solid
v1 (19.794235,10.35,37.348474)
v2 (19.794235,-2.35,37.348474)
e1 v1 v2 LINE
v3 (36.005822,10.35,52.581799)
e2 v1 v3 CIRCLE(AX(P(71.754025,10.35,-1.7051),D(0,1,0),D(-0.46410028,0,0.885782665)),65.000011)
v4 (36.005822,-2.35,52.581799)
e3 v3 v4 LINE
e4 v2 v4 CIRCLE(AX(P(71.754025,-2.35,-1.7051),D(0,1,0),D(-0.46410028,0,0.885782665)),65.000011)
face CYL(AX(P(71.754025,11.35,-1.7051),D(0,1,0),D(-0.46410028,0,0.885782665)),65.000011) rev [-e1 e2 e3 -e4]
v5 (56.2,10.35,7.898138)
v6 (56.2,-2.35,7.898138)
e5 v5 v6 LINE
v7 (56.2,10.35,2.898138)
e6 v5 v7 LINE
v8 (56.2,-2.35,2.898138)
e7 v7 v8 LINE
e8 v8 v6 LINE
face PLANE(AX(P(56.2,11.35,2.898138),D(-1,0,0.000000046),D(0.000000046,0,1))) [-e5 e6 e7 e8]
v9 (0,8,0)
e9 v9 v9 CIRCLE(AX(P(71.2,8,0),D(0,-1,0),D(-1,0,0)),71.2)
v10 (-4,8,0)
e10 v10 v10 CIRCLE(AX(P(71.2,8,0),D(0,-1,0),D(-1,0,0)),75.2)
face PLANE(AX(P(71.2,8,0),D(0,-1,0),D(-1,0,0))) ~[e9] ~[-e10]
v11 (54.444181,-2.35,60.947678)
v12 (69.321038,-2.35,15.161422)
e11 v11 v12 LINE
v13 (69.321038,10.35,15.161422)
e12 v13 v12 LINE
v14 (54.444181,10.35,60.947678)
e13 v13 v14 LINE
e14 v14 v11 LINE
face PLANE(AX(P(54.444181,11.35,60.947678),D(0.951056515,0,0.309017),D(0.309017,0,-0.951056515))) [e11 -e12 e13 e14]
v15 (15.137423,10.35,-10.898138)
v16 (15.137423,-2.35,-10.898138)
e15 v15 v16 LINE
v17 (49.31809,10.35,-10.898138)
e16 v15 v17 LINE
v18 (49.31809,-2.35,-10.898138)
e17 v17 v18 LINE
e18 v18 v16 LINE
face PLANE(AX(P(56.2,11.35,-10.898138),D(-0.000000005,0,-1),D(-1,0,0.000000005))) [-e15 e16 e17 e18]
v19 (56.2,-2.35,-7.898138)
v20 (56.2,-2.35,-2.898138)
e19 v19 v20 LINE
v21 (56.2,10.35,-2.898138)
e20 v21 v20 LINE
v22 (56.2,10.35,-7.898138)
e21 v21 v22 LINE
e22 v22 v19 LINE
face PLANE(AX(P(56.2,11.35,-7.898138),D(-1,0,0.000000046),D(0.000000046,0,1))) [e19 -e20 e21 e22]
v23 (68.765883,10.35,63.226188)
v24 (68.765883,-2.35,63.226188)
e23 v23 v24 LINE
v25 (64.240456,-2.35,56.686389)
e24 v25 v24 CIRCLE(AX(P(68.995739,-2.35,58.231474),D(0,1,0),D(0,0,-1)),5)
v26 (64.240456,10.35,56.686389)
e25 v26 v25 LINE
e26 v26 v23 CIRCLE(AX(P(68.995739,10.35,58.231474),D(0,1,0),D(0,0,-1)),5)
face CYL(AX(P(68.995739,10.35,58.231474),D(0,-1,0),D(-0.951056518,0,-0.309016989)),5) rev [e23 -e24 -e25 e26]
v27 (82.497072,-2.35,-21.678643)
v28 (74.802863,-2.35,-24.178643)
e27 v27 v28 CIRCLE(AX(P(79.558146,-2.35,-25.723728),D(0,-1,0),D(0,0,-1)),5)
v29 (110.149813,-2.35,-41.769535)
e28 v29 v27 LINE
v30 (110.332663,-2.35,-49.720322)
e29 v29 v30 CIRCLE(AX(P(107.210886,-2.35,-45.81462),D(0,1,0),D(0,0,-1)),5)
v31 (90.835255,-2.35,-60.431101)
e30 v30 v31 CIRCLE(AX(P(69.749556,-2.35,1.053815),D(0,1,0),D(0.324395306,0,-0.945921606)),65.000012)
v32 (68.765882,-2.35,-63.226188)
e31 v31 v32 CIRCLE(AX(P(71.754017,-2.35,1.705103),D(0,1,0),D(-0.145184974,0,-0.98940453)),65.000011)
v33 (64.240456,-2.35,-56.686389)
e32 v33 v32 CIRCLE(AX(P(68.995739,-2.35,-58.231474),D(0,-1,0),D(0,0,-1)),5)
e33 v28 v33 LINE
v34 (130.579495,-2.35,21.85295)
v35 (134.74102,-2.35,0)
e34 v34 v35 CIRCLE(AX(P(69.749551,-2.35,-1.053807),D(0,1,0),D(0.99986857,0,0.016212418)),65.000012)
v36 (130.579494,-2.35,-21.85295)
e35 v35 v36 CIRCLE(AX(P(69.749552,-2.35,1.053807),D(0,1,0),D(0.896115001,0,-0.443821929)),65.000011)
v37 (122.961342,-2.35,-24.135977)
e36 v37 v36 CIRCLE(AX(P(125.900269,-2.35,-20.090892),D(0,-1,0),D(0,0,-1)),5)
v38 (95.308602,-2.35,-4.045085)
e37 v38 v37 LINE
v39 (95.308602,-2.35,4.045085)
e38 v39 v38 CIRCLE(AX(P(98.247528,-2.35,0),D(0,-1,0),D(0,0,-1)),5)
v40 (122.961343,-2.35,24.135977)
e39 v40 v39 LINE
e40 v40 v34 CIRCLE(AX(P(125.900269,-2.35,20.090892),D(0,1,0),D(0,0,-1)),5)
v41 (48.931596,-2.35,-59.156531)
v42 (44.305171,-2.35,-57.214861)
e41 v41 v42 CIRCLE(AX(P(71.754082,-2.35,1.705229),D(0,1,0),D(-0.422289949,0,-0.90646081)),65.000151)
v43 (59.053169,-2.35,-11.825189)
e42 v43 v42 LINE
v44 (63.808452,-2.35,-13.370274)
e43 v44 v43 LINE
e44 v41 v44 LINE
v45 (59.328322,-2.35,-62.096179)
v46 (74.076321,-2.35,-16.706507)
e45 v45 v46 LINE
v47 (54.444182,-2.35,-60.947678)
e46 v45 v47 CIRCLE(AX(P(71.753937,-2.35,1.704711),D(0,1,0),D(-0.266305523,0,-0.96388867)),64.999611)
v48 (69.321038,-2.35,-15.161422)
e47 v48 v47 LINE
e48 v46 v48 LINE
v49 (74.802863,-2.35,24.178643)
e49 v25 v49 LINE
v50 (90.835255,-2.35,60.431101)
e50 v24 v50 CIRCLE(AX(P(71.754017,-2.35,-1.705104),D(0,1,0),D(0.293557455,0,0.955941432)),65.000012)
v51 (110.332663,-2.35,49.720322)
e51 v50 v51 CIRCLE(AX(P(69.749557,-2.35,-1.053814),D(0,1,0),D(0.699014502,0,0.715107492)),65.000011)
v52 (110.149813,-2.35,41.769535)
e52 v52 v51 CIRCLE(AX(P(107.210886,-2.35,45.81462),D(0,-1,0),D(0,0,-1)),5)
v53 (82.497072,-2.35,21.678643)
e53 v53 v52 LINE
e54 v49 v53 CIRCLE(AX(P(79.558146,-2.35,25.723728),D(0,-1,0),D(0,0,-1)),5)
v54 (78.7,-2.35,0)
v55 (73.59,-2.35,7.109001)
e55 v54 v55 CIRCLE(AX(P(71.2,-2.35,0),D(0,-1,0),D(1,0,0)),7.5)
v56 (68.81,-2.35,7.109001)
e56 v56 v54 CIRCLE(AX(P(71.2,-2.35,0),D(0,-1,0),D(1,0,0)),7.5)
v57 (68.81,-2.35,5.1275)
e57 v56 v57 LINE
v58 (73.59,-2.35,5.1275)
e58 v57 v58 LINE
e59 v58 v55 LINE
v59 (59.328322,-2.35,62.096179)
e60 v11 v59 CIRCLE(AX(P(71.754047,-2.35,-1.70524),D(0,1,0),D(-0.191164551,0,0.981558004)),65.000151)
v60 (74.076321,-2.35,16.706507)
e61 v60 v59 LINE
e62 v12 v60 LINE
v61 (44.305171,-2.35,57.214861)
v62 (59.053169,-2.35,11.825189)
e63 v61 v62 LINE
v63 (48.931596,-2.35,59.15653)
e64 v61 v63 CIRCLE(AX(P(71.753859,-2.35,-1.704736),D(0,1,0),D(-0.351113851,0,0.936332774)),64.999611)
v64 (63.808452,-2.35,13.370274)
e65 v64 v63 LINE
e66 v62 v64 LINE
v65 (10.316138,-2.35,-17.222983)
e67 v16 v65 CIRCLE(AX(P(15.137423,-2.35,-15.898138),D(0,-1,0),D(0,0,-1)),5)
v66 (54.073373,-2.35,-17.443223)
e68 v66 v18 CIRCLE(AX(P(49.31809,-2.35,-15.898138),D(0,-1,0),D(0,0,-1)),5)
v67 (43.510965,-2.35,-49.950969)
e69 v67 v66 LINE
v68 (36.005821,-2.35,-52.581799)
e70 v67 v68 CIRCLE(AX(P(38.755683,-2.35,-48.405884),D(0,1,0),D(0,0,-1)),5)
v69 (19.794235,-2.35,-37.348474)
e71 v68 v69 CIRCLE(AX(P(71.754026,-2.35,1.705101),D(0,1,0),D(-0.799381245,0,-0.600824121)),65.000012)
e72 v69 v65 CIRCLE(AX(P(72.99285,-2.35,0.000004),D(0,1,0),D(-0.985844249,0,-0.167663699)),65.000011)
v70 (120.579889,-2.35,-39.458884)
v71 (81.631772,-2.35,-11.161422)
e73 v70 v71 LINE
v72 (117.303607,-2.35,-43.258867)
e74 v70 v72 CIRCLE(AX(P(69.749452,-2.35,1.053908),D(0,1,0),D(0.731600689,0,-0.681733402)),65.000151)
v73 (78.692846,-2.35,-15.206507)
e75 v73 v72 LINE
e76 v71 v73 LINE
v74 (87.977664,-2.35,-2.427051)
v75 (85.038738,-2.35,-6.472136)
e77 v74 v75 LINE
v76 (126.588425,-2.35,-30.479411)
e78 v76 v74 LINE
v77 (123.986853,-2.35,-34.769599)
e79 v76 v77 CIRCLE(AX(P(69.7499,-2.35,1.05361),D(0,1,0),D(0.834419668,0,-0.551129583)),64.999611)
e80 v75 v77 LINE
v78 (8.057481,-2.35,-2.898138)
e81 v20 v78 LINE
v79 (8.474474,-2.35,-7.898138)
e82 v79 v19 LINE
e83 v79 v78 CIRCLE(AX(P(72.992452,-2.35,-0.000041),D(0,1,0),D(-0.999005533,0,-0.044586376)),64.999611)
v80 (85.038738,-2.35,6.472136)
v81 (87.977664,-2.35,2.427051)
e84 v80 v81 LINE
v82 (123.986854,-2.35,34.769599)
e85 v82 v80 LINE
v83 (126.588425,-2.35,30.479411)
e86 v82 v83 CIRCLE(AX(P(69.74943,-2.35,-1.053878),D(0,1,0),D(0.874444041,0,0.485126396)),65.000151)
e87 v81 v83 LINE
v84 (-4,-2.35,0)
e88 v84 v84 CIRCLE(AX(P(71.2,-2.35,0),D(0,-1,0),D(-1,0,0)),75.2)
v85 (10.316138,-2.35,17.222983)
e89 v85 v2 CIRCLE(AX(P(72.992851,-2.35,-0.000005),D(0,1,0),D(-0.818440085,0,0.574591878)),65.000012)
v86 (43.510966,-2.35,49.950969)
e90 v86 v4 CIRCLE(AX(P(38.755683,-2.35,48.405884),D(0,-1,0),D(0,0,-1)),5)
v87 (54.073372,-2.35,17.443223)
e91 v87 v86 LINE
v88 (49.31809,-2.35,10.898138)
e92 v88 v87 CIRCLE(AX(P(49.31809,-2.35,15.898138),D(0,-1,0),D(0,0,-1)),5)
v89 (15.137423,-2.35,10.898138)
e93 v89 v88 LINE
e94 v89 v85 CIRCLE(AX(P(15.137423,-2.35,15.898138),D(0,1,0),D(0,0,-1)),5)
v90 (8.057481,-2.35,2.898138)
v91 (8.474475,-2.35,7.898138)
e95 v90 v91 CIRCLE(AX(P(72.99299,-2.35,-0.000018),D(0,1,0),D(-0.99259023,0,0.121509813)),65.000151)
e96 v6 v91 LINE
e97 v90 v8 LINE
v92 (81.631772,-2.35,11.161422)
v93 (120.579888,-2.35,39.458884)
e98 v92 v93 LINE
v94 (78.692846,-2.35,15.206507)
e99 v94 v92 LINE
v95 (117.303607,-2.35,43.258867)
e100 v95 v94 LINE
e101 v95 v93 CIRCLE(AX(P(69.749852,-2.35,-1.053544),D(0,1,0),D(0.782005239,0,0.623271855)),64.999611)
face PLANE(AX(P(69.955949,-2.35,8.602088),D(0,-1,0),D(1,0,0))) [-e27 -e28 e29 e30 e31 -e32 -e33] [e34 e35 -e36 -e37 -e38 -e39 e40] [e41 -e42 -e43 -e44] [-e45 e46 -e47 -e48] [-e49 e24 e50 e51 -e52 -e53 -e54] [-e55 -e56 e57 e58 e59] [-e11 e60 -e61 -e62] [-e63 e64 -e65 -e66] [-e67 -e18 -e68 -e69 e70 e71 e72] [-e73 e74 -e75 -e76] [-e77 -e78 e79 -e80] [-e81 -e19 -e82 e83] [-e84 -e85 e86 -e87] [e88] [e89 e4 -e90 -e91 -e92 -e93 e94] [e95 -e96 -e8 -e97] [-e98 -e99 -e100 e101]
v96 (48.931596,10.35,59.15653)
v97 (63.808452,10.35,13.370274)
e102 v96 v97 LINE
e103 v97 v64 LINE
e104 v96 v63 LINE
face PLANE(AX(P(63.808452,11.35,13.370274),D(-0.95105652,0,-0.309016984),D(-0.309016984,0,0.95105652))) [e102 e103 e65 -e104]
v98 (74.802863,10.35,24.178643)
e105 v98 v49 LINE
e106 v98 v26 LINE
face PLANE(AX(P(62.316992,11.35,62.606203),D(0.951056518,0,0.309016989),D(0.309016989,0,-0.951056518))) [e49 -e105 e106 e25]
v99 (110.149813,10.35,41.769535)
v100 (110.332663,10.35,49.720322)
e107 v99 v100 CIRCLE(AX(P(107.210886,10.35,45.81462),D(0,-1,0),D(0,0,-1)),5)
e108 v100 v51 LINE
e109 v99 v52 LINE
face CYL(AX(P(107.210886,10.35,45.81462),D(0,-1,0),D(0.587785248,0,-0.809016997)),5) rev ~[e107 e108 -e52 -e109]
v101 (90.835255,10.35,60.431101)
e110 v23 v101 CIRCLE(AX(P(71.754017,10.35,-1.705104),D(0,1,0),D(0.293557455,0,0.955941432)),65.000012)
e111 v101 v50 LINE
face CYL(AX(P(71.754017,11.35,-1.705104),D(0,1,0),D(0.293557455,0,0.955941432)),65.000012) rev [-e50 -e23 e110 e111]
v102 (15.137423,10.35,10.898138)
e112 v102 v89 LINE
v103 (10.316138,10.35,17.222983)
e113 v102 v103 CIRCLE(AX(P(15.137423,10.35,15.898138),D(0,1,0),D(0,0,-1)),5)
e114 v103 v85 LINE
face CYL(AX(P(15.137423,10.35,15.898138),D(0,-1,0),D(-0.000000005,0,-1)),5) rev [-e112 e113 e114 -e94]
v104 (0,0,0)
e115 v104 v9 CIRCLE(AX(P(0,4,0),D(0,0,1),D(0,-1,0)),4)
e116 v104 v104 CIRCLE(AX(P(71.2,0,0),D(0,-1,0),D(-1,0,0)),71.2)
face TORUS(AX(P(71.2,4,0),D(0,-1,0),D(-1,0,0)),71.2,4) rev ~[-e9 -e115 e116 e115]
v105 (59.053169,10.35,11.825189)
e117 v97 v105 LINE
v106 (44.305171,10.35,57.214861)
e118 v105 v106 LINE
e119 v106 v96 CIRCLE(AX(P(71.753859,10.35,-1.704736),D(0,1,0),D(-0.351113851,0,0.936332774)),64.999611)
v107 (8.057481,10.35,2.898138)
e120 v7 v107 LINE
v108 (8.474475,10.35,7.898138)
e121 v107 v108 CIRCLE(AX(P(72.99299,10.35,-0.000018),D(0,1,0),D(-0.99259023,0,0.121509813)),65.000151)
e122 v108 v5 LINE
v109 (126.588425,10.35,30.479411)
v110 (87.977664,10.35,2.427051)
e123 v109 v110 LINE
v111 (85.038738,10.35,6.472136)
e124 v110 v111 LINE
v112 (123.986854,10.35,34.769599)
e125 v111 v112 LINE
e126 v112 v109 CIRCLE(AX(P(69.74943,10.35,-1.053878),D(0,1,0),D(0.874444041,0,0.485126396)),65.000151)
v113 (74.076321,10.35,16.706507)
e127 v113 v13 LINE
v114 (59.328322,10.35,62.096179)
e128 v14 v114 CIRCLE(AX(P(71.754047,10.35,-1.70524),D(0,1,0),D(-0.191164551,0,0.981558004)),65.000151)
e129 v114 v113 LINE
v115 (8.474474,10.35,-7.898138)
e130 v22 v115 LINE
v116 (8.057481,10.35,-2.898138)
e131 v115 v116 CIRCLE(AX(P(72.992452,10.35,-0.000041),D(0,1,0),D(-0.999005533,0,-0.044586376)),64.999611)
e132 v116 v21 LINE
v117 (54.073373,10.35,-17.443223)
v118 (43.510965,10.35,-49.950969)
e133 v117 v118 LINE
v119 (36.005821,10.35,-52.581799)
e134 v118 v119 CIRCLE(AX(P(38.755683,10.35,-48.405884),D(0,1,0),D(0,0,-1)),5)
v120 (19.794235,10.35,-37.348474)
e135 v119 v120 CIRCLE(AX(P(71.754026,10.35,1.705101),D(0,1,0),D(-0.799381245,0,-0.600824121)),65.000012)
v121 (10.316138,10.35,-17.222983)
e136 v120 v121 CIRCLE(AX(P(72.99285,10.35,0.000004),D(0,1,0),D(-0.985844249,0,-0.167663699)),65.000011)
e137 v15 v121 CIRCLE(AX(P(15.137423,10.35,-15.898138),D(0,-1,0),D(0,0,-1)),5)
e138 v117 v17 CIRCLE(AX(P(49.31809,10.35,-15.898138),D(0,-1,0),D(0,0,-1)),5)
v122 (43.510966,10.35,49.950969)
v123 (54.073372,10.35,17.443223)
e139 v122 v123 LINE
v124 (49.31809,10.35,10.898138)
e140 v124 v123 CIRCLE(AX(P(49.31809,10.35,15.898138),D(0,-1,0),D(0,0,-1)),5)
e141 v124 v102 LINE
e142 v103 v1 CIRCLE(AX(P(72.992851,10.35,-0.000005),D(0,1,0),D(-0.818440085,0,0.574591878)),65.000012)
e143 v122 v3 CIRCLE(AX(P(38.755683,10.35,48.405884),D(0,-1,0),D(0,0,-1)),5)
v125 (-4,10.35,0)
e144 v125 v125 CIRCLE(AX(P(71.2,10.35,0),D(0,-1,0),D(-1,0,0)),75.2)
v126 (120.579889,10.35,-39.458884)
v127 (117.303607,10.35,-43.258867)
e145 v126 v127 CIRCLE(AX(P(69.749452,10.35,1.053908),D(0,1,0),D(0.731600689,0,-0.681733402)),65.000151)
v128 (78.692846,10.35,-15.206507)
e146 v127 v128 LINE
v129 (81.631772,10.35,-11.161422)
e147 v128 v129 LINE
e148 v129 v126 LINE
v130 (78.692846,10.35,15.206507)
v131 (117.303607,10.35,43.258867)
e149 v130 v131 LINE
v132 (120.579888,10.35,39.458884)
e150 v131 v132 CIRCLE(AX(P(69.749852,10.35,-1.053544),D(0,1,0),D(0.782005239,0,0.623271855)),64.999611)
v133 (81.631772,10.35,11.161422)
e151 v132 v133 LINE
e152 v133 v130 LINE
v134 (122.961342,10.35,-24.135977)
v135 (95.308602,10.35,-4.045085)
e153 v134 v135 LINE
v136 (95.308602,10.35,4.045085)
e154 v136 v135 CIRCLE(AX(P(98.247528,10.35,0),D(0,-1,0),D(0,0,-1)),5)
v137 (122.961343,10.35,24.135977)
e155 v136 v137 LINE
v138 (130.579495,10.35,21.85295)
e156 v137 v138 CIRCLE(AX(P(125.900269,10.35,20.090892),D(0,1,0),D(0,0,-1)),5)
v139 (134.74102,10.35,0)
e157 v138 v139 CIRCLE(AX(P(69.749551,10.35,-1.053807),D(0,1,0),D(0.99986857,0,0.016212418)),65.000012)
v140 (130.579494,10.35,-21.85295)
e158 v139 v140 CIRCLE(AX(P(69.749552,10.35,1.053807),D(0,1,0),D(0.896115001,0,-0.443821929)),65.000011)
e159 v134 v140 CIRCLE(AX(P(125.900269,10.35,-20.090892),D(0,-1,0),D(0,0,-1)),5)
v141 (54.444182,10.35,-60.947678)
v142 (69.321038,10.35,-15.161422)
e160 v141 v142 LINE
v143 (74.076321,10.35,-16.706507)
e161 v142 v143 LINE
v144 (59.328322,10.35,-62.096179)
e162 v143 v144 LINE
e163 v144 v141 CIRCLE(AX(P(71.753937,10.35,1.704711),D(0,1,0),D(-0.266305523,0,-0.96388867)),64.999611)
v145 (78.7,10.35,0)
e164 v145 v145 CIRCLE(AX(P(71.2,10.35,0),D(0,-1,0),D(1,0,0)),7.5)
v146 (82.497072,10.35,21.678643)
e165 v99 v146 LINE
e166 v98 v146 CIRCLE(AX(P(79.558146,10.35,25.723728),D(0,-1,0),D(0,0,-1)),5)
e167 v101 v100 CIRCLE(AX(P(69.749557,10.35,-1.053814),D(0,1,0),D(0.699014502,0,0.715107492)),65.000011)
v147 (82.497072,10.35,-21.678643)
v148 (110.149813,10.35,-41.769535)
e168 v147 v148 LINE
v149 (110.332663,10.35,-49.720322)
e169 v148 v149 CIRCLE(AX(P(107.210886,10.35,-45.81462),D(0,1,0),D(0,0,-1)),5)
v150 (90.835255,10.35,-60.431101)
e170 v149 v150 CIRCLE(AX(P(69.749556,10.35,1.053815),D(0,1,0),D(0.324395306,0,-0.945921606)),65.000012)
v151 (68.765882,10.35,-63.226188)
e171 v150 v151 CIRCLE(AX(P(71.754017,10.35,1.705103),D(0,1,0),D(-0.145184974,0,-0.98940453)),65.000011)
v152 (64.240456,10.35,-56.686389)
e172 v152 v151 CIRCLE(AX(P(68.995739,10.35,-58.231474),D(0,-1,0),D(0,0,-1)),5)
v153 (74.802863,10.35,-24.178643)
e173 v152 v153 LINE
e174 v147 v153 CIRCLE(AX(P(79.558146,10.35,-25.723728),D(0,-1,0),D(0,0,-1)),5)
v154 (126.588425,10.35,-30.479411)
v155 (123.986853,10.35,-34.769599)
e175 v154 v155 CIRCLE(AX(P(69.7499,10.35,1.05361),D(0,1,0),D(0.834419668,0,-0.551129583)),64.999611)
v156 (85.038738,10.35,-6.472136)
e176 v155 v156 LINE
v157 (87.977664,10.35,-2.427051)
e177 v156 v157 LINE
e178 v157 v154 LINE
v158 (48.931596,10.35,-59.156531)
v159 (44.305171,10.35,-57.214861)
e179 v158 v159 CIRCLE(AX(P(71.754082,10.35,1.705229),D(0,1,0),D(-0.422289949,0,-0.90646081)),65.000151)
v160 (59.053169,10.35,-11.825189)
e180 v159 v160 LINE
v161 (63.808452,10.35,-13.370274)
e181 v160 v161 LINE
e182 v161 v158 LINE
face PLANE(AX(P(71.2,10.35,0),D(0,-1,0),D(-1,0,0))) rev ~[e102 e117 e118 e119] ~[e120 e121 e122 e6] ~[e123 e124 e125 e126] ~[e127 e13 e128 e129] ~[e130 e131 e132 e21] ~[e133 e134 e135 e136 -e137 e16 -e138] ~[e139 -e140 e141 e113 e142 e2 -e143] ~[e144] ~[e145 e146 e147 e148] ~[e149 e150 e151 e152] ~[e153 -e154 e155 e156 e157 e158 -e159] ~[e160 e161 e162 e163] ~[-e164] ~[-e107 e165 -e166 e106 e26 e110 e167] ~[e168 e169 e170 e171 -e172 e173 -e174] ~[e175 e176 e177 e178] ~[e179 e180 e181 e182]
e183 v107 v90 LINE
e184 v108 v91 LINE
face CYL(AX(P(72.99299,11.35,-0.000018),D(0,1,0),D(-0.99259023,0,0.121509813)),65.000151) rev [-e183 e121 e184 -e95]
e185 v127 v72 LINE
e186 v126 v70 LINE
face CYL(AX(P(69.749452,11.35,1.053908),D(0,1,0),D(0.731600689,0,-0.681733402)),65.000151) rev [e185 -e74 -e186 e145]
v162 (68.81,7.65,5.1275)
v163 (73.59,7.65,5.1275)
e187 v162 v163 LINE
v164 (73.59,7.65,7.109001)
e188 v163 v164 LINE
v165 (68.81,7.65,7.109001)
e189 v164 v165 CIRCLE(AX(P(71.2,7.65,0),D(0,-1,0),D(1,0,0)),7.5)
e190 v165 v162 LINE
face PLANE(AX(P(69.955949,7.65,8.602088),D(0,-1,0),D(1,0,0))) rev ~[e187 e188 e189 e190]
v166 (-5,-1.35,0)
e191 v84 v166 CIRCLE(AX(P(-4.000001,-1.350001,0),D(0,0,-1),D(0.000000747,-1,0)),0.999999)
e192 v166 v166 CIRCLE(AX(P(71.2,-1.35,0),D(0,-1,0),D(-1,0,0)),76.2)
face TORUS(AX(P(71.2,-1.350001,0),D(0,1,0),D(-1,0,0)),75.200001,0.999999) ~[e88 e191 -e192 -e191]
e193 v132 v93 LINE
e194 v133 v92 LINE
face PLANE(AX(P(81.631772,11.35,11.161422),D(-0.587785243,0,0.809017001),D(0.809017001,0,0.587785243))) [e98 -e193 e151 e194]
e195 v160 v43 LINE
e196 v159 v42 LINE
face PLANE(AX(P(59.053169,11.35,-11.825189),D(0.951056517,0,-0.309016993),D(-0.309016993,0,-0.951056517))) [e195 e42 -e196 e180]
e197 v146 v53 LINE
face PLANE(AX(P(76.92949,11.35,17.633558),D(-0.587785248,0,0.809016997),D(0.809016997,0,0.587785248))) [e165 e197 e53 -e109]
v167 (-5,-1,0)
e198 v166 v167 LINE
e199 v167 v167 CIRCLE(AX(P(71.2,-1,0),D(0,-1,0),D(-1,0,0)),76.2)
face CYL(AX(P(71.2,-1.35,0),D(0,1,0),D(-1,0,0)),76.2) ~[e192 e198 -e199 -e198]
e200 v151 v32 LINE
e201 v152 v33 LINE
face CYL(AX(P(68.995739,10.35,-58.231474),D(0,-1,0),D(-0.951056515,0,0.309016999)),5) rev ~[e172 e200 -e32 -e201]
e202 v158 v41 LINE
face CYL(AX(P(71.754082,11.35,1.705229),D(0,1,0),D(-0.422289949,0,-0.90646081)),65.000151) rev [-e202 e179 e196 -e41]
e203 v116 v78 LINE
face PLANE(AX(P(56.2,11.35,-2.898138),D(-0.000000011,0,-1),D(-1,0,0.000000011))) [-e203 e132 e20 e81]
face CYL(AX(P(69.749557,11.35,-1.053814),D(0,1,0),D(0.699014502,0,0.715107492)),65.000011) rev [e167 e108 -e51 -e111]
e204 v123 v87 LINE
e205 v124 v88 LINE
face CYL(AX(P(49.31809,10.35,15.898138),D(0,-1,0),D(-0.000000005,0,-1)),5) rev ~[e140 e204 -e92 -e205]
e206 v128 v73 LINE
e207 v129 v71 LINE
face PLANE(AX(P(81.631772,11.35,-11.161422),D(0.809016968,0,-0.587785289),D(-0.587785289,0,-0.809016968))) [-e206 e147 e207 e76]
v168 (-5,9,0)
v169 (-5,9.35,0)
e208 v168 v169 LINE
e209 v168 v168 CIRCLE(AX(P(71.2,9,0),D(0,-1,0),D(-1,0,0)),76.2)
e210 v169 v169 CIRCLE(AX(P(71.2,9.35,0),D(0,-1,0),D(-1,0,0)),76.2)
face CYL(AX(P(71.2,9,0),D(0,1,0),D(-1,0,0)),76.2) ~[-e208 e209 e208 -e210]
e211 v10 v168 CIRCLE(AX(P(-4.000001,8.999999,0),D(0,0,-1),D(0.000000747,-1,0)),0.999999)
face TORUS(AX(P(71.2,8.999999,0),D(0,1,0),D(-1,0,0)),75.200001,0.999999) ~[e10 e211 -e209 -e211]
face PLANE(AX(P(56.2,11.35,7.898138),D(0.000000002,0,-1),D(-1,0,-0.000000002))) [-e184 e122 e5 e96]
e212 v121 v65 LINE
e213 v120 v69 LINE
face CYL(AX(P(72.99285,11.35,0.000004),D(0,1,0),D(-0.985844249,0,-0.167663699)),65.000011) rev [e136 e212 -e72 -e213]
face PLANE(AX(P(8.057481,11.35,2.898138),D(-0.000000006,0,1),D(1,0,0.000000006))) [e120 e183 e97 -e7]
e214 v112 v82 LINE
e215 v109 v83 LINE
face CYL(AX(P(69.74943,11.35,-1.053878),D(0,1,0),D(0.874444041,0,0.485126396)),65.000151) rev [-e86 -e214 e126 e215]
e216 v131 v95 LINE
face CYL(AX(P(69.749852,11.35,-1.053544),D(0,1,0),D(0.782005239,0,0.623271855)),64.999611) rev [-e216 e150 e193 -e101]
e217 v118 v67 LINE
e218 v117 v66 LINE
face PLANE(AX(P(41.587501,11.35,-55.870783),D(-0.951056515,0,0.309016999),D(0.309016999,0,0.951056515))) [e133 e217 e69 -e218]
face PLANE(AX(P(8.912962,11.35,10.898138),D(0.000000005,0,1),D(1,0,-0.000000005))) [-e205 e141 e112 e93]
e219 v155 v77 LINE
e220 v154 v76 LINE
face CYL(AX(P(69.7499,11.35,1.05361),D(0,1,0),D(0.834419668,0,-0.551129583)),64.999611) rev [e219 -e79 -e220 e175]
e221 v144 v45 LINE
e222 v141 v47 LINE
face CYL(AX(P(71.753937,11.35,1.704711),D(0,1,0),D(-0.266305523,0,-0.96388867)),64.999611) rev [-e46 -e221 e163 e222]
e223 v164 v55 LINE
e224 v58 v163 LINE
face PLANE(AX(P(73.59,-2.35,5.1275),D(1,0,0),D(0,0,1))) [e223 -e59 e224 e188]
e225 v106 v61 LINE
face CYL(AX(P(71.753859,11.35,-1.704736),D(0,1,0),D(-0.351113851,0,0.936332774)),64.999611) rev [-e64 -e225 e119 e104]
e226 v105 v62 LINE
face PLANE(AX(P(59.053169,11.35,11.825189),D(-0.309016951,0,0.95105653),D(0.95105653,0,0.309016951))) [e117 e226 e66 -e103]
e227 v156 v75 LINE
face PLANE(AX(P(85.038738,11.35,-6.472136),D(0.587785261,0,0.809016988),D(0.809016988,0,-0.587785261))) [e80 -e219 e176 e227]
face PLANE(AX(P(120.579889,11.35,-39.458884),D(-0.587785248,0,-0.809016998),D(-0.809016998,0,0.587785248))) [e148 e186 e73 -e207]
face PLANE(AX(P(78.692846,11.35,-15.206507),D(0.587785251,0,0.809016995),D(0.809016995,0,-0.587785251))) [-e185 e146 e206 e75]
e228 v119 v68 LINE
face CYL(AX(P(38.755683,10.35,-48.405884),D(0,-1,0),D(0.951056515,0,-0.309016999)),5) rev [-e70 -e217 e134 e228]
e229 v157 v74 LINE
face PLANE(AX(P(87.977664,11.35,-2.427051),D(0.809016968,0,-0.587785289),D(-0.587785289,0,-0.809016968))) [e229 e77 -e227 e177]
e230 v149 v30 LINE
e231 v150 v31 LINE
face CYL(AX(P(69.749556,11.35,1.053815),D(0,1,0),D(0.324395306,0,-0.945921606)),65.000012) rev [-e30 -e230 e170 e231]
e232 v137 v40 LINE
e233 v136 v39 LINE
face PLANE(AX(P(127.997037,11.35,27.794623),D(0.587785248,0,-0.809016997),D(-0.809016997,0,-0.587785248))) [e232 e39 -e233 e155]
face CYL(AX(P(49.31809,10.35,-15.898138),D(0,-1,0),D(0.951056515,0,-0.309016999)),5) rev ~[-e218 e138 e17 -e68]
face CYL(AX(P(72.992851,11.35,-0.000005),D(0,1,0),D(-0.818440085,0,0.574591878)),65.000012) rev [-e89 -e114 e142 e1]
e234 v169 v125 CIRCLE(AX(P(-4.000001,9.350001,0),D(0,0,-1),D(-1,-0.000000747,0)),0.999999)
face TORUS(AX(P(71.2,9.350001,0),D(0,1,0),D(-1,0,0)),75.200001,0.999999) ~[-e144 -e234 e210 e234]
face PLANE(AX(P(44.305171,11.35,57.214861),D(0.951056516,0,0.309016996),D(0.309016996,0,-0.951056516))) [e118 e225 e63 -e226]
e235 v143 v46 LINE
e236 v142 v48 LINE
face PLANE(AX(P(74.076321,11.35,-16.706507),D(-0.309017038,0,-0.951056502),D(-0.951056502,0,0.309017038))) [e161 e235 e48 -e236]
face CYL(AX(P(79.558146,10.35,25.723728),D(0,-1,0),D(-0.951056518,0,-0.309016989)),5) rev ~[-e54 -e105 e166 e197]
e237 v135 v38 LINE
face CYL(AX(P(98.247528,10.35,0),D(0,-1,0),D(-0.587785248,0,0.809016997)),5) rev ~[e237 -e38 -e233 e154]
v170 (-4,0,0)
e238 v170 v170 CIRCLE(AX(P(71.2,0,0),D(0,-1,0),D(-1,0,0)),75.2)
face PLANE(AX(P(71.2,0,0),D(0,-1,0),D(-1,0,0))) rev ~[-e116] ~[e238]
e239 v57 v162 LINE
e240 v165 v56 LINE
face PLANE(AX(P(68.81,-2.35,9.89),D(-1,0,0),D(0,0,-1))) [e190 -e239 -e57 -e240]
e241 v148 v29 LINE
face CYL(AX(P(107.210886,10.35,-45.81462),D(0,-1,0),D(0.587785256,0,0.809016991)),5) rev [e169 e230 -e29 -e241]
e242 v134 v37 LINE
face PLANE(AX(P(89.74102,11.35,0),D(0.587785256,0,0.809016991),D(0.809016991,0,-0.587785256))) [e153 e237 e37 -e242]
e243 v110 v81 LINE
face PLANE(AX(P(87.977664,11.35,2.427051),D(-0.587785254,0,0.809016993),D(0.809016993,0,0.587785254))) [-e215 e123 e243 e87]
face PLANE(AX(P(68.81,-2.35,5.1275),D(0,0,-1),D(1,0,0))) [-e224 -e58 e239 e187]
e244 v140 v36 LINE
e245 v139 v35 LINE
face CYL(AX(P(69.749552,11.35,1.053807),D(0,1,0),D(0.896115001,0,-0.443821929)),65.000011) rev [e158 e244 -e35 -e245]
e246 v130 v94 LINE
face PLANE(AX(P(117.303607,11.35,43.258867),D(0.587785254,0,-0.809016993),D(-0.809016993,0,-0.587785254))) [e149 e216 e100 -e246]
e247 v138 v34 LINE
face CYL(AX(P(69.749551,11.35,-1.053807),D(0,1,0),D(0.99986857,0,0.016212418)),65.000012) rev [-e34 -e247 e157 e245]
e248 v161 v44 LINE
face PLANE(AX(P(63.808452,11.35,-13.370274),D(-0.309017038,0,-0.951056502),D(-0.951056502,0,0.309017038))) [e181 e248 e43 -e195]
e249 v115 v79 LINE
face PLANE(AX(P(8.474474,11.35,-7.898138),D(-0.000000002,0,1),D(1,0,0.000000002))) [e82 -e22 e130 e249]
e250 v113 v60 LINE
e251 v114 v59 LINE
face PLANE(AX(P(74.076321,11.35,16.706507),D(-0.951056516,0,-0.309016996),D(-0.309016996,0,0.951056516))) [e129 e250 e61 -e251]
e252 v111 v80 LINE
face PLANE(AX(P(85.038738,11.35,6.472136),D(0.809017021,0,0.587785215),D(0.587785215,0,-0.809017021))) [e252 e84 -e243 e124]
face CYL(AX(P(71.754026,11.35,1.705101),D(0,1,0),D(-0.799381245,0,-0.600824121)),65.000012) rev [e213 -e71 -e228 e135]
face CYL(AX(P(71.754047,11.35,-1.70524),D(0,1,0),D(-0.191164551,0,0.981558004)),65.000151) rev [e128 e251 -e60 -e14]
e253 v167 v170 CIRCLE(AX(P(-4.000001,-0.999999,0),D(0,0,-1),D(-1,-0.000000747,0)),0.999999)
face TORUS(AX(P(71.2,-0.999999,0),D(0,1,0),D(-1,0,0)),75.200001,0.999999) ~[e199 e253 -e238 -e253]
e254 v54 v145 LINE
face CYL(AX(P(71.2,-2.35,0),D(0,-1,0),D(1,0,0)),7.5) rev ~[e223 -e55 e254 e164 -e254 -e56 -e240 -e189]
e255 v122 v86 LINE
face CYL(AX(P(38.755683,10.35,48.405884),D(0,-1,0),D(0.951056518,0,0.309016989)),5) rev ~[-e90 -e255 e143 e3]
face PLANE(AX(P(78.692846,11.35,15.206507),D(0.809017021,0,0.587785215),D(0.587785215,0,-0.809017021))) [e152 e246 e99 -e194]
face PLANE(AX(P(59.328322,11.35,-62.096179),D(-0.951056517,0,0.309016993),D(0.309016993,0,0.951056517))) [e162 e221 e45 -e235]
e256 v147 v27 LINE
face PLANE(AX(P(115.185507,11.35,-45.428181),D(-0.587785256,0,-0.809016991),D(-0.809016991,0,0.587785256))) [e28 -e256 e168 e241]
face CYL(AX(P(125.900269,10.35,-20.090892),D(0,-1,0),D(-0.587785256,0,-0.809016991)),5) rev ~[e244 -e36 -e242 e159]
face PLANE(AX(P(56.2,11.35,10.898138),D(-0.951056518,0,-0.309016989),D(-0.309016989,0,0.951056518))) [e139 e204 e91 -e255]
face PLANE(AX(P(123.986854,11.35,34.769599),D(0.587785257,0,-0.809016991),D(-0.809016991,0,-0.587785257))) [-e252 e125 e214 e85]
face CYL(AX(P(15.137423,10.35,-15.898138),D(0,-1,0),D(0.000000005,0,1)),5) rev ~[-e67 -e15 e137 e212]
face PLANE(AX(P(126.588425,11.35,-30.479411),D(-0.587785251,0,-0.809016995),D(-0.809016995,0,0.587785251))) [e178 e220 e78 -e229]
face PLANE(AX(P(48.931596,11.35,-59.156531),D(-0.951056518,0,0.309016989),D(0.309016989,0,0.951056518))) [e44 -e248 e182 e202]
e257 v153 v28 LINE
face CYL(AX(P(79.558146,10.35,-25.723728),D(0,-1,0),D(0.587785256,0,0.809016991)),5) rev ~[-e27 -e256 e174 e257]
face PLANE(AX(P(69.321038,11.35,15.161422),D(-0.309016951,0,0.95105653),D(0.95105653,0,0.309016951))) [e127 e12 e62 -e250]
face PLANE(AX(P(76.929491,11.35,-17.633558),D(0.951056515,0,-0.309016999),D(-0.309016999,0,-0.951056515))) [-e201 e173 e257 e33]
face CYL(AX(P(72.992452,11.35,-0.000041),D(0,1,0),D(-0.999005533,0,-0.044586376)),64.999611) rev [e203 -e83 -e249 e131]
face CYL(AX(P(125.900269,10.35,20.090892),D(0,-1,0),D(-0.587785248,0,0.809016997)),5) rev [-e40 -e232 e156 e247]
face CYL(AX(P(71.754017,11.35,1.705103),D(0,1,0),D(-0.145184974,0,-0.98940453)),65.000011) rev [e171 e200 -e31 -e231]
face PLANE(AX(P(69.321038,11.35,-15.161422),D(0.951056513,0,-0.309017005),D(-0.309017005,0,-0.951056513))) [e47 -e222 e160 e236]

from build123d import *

# Parameters (mm, degrees)
SKETCH2_R           = 7.5
CUT_EXTRUDE3_DEPTH  = 13.7
CUT_EXTRUDE7_START  = -13.7
CUT_EXTRUDE7_DEPTH  = 14.7
CIRPATTERN1_COUNT   = 5
FILLET1_R           = 5
FILLET2_R           = 5
BOSS_EXTRUDE1_DEPTH = 10


with BuildPart() as part:
    # Sketch1 → Revolve2 (revolve)
    with BuildSketch(Plane.XY):
        with BuildLine():
            Line((0, 8), (-4, 8))
            ThreePointArc((-4, 8), (-4.707107, 8.292893), (-5, 9))
            Line((-5, 9), (-5, 9.35))
            ThreePointArc((-5, 9.35), (-4.707107, 10.057107), (-4, 10.35))
            Line((-4, 10.35), (71.2, 10.35))
            Line((71.2, 10.35), (71.2, -2.35))
            Line((71.2, -2.35), (-4, -2.35))
            ThreePointArc((-4, -2.35), (-4.707107, -2.057107), (-5, -1.35))
            Line((-5, -1.35), (-5, -1))
            ThreePointArc((-5, -1), (-4.707107, -0.292893), (-4, 0))
            Line((-4, 0), (0, 0))
            ThreePointArc((0, 0), (4, 4), (0, 8))
        make_face()
    revolve(axis=Axis((71.2, 10.35, 0), (0, -1, 0)))

    # Sketch2 → Cut-Extrude3 (cut, through all)
    with BuildSketch(Plane.XZ.offset(2.35)):
        with Locations((71.2, 0)):
            Circle(SKETCH2_R)
    extrude(amount=-CUT_EXTRUDE3_DEPTH, mode=Mode.SUBTRACT)

    # Sketch3 → Cut-Extrude7 (cut)
    with BuildSketch(Plane.XZ.offset(2.35).offset(CUT_EXTRUDE7_START)):
        with BuildLine():
            Line((90.835255, 60.431101), (76.92949, 17.633558))
            Line((76.92949, 17.633558), (115.185507, 45.428181))
            ThreePointArc((115.185507, 45.428181), (103.845808, 54.285567), (90.835255, 60.431101))
        make_face()
        with BuildLine():
            Line((78.692846, 15.206507), (81.631772, 11.161422))
            Line((81.631772, 11.161422), (120.579888, 39.458884))
            ThreePointArc((120.579888, 39.458884), (118.978427, 41.390499), (117.303607, 43.258867))
            Line((117.303607, 43.258867), (78.692846, 15.206507))
        make_face()
        with BuildLine():
            Line((85.038738, 6.472136), (87.977664, 2.427051))
            Line((87.977664, 2.427051), (126.588425, 30.479411))
            ThreePointArc((126.588425, 30.479411), (125.32905, 32.649616), (123.986854, 34.769599))
            Line((123.986854, 34.769599), (85.038738, 6.472136))
        make_face()
        with BuildLine():
            Line((127.997037, 27.794623), (89.74102, 0))
            Line((89.74102, 0), (134.74102, 0))
            ThreePointArc((134.74102, 0), (132.916752, 14.272845), (127.997037, 27.794623))
        make_face()
    cut_extrude7 = extrude(amount=CUT_EXTRUDE7_DEPTH, mode=Mode.SUBTRACT)

    # CirPattern1: Cut-Extrude7 ×5 about axis
    cirpattern1_axis = Axis((71.2, 0, 0), (0, 1, 0))
    for i in range(1, CIRPATTERN1_COUNT):
        add(cut_extrude7.rotate(cirpattern1_axis, i * 360 / CIRPATTERN1_COUNT), mode=Mode.SUBTRACT)

    # Fillet1
    fillet1_edges = [part.edges().sort_by_distance(p)[0] for p in [
        (76.92949, 4, -17.633558),
        (56.2, 4, -10.898138),
        (56.2, 4, 10.898138),
        (89.74102, 4, 0),
        (76.92949, 4, 17.633558),
    ]]
    fillet(fillet1_edges, radius=FILLET1_R)

    # Fillet2
    fillet2_edges = [part.edges().sort_by_distance(p)[0] for p in [
        (62.316992, 4, -62.606203),
        (115.185507, 4, -45.428181),
        (62.316992, 4, 62.606203),
        (8.912963, 4, -10.898138),
        (41.587502, 4, -55.870783),
        (127.997037, 4, -27.794623),
        (41.587502, 4, 55.870783),
        (8.912963, 4, 10.898138),
        (127.997037, 4, 27.794623),
        (115.185507, 4, 45.428181),
    ]]
    fillet(fillet2_edges, radius=FILLET2_R)

    # Sketch5 → Boss-Extrude1 (add)
    with BuildSketch(Plane.XZ.offset(2.35)):
        with BuildLine():
            ThreePointArc((68.81, 7.109001), (69.989114, 7.401605), (71.2, 7.5))
            Line((71.2, 7.5), (71.2, 9.89))
            Line((71.2, 9.89), (68.81, 9.89))
            Line((68.81, 9.89), (68.81, 7.109001))
        make_face()
        with BuildLine():
            Line((71.2, 9.89), (71.2, 7.5))
            ThreePointArc((71.2, 7.5), (72.410886, 7.401605), (73.59, 7.109001))
            Line((73.59, 7.109001), (73.59, 9.89))
            Line((73.59, 9.89), (71.2, 9.89))
        make_face()
        with BuildLine():
            ThreePointArc((73.59, 7.109001), (72.410886, 7.401605), (71.2, 7.5))
            Line((71.2, 7.5), (71.2, 5.1275))
            Line((71.2, 5.1275), (73.59, 5.1275))
            Line((73.59, 5.1275), (73.59, 7.109001))
        make_face()
        with BuildLine():
            Line((71.2, 5.1275), (71.2, 7.5))
            ThreePointArc((71.2, 7.5), (69.989114, 7.401605), (68.81, 7.109001))
            Line((68.81, 7.109001), (68.81, 5.1275))
            Line((68.81, 5.1275), (71.2, 5.1275))
        make_face()
    extrude(amount=-BOSS_EXTRUDE1_DEPTH)


solid = part.part
